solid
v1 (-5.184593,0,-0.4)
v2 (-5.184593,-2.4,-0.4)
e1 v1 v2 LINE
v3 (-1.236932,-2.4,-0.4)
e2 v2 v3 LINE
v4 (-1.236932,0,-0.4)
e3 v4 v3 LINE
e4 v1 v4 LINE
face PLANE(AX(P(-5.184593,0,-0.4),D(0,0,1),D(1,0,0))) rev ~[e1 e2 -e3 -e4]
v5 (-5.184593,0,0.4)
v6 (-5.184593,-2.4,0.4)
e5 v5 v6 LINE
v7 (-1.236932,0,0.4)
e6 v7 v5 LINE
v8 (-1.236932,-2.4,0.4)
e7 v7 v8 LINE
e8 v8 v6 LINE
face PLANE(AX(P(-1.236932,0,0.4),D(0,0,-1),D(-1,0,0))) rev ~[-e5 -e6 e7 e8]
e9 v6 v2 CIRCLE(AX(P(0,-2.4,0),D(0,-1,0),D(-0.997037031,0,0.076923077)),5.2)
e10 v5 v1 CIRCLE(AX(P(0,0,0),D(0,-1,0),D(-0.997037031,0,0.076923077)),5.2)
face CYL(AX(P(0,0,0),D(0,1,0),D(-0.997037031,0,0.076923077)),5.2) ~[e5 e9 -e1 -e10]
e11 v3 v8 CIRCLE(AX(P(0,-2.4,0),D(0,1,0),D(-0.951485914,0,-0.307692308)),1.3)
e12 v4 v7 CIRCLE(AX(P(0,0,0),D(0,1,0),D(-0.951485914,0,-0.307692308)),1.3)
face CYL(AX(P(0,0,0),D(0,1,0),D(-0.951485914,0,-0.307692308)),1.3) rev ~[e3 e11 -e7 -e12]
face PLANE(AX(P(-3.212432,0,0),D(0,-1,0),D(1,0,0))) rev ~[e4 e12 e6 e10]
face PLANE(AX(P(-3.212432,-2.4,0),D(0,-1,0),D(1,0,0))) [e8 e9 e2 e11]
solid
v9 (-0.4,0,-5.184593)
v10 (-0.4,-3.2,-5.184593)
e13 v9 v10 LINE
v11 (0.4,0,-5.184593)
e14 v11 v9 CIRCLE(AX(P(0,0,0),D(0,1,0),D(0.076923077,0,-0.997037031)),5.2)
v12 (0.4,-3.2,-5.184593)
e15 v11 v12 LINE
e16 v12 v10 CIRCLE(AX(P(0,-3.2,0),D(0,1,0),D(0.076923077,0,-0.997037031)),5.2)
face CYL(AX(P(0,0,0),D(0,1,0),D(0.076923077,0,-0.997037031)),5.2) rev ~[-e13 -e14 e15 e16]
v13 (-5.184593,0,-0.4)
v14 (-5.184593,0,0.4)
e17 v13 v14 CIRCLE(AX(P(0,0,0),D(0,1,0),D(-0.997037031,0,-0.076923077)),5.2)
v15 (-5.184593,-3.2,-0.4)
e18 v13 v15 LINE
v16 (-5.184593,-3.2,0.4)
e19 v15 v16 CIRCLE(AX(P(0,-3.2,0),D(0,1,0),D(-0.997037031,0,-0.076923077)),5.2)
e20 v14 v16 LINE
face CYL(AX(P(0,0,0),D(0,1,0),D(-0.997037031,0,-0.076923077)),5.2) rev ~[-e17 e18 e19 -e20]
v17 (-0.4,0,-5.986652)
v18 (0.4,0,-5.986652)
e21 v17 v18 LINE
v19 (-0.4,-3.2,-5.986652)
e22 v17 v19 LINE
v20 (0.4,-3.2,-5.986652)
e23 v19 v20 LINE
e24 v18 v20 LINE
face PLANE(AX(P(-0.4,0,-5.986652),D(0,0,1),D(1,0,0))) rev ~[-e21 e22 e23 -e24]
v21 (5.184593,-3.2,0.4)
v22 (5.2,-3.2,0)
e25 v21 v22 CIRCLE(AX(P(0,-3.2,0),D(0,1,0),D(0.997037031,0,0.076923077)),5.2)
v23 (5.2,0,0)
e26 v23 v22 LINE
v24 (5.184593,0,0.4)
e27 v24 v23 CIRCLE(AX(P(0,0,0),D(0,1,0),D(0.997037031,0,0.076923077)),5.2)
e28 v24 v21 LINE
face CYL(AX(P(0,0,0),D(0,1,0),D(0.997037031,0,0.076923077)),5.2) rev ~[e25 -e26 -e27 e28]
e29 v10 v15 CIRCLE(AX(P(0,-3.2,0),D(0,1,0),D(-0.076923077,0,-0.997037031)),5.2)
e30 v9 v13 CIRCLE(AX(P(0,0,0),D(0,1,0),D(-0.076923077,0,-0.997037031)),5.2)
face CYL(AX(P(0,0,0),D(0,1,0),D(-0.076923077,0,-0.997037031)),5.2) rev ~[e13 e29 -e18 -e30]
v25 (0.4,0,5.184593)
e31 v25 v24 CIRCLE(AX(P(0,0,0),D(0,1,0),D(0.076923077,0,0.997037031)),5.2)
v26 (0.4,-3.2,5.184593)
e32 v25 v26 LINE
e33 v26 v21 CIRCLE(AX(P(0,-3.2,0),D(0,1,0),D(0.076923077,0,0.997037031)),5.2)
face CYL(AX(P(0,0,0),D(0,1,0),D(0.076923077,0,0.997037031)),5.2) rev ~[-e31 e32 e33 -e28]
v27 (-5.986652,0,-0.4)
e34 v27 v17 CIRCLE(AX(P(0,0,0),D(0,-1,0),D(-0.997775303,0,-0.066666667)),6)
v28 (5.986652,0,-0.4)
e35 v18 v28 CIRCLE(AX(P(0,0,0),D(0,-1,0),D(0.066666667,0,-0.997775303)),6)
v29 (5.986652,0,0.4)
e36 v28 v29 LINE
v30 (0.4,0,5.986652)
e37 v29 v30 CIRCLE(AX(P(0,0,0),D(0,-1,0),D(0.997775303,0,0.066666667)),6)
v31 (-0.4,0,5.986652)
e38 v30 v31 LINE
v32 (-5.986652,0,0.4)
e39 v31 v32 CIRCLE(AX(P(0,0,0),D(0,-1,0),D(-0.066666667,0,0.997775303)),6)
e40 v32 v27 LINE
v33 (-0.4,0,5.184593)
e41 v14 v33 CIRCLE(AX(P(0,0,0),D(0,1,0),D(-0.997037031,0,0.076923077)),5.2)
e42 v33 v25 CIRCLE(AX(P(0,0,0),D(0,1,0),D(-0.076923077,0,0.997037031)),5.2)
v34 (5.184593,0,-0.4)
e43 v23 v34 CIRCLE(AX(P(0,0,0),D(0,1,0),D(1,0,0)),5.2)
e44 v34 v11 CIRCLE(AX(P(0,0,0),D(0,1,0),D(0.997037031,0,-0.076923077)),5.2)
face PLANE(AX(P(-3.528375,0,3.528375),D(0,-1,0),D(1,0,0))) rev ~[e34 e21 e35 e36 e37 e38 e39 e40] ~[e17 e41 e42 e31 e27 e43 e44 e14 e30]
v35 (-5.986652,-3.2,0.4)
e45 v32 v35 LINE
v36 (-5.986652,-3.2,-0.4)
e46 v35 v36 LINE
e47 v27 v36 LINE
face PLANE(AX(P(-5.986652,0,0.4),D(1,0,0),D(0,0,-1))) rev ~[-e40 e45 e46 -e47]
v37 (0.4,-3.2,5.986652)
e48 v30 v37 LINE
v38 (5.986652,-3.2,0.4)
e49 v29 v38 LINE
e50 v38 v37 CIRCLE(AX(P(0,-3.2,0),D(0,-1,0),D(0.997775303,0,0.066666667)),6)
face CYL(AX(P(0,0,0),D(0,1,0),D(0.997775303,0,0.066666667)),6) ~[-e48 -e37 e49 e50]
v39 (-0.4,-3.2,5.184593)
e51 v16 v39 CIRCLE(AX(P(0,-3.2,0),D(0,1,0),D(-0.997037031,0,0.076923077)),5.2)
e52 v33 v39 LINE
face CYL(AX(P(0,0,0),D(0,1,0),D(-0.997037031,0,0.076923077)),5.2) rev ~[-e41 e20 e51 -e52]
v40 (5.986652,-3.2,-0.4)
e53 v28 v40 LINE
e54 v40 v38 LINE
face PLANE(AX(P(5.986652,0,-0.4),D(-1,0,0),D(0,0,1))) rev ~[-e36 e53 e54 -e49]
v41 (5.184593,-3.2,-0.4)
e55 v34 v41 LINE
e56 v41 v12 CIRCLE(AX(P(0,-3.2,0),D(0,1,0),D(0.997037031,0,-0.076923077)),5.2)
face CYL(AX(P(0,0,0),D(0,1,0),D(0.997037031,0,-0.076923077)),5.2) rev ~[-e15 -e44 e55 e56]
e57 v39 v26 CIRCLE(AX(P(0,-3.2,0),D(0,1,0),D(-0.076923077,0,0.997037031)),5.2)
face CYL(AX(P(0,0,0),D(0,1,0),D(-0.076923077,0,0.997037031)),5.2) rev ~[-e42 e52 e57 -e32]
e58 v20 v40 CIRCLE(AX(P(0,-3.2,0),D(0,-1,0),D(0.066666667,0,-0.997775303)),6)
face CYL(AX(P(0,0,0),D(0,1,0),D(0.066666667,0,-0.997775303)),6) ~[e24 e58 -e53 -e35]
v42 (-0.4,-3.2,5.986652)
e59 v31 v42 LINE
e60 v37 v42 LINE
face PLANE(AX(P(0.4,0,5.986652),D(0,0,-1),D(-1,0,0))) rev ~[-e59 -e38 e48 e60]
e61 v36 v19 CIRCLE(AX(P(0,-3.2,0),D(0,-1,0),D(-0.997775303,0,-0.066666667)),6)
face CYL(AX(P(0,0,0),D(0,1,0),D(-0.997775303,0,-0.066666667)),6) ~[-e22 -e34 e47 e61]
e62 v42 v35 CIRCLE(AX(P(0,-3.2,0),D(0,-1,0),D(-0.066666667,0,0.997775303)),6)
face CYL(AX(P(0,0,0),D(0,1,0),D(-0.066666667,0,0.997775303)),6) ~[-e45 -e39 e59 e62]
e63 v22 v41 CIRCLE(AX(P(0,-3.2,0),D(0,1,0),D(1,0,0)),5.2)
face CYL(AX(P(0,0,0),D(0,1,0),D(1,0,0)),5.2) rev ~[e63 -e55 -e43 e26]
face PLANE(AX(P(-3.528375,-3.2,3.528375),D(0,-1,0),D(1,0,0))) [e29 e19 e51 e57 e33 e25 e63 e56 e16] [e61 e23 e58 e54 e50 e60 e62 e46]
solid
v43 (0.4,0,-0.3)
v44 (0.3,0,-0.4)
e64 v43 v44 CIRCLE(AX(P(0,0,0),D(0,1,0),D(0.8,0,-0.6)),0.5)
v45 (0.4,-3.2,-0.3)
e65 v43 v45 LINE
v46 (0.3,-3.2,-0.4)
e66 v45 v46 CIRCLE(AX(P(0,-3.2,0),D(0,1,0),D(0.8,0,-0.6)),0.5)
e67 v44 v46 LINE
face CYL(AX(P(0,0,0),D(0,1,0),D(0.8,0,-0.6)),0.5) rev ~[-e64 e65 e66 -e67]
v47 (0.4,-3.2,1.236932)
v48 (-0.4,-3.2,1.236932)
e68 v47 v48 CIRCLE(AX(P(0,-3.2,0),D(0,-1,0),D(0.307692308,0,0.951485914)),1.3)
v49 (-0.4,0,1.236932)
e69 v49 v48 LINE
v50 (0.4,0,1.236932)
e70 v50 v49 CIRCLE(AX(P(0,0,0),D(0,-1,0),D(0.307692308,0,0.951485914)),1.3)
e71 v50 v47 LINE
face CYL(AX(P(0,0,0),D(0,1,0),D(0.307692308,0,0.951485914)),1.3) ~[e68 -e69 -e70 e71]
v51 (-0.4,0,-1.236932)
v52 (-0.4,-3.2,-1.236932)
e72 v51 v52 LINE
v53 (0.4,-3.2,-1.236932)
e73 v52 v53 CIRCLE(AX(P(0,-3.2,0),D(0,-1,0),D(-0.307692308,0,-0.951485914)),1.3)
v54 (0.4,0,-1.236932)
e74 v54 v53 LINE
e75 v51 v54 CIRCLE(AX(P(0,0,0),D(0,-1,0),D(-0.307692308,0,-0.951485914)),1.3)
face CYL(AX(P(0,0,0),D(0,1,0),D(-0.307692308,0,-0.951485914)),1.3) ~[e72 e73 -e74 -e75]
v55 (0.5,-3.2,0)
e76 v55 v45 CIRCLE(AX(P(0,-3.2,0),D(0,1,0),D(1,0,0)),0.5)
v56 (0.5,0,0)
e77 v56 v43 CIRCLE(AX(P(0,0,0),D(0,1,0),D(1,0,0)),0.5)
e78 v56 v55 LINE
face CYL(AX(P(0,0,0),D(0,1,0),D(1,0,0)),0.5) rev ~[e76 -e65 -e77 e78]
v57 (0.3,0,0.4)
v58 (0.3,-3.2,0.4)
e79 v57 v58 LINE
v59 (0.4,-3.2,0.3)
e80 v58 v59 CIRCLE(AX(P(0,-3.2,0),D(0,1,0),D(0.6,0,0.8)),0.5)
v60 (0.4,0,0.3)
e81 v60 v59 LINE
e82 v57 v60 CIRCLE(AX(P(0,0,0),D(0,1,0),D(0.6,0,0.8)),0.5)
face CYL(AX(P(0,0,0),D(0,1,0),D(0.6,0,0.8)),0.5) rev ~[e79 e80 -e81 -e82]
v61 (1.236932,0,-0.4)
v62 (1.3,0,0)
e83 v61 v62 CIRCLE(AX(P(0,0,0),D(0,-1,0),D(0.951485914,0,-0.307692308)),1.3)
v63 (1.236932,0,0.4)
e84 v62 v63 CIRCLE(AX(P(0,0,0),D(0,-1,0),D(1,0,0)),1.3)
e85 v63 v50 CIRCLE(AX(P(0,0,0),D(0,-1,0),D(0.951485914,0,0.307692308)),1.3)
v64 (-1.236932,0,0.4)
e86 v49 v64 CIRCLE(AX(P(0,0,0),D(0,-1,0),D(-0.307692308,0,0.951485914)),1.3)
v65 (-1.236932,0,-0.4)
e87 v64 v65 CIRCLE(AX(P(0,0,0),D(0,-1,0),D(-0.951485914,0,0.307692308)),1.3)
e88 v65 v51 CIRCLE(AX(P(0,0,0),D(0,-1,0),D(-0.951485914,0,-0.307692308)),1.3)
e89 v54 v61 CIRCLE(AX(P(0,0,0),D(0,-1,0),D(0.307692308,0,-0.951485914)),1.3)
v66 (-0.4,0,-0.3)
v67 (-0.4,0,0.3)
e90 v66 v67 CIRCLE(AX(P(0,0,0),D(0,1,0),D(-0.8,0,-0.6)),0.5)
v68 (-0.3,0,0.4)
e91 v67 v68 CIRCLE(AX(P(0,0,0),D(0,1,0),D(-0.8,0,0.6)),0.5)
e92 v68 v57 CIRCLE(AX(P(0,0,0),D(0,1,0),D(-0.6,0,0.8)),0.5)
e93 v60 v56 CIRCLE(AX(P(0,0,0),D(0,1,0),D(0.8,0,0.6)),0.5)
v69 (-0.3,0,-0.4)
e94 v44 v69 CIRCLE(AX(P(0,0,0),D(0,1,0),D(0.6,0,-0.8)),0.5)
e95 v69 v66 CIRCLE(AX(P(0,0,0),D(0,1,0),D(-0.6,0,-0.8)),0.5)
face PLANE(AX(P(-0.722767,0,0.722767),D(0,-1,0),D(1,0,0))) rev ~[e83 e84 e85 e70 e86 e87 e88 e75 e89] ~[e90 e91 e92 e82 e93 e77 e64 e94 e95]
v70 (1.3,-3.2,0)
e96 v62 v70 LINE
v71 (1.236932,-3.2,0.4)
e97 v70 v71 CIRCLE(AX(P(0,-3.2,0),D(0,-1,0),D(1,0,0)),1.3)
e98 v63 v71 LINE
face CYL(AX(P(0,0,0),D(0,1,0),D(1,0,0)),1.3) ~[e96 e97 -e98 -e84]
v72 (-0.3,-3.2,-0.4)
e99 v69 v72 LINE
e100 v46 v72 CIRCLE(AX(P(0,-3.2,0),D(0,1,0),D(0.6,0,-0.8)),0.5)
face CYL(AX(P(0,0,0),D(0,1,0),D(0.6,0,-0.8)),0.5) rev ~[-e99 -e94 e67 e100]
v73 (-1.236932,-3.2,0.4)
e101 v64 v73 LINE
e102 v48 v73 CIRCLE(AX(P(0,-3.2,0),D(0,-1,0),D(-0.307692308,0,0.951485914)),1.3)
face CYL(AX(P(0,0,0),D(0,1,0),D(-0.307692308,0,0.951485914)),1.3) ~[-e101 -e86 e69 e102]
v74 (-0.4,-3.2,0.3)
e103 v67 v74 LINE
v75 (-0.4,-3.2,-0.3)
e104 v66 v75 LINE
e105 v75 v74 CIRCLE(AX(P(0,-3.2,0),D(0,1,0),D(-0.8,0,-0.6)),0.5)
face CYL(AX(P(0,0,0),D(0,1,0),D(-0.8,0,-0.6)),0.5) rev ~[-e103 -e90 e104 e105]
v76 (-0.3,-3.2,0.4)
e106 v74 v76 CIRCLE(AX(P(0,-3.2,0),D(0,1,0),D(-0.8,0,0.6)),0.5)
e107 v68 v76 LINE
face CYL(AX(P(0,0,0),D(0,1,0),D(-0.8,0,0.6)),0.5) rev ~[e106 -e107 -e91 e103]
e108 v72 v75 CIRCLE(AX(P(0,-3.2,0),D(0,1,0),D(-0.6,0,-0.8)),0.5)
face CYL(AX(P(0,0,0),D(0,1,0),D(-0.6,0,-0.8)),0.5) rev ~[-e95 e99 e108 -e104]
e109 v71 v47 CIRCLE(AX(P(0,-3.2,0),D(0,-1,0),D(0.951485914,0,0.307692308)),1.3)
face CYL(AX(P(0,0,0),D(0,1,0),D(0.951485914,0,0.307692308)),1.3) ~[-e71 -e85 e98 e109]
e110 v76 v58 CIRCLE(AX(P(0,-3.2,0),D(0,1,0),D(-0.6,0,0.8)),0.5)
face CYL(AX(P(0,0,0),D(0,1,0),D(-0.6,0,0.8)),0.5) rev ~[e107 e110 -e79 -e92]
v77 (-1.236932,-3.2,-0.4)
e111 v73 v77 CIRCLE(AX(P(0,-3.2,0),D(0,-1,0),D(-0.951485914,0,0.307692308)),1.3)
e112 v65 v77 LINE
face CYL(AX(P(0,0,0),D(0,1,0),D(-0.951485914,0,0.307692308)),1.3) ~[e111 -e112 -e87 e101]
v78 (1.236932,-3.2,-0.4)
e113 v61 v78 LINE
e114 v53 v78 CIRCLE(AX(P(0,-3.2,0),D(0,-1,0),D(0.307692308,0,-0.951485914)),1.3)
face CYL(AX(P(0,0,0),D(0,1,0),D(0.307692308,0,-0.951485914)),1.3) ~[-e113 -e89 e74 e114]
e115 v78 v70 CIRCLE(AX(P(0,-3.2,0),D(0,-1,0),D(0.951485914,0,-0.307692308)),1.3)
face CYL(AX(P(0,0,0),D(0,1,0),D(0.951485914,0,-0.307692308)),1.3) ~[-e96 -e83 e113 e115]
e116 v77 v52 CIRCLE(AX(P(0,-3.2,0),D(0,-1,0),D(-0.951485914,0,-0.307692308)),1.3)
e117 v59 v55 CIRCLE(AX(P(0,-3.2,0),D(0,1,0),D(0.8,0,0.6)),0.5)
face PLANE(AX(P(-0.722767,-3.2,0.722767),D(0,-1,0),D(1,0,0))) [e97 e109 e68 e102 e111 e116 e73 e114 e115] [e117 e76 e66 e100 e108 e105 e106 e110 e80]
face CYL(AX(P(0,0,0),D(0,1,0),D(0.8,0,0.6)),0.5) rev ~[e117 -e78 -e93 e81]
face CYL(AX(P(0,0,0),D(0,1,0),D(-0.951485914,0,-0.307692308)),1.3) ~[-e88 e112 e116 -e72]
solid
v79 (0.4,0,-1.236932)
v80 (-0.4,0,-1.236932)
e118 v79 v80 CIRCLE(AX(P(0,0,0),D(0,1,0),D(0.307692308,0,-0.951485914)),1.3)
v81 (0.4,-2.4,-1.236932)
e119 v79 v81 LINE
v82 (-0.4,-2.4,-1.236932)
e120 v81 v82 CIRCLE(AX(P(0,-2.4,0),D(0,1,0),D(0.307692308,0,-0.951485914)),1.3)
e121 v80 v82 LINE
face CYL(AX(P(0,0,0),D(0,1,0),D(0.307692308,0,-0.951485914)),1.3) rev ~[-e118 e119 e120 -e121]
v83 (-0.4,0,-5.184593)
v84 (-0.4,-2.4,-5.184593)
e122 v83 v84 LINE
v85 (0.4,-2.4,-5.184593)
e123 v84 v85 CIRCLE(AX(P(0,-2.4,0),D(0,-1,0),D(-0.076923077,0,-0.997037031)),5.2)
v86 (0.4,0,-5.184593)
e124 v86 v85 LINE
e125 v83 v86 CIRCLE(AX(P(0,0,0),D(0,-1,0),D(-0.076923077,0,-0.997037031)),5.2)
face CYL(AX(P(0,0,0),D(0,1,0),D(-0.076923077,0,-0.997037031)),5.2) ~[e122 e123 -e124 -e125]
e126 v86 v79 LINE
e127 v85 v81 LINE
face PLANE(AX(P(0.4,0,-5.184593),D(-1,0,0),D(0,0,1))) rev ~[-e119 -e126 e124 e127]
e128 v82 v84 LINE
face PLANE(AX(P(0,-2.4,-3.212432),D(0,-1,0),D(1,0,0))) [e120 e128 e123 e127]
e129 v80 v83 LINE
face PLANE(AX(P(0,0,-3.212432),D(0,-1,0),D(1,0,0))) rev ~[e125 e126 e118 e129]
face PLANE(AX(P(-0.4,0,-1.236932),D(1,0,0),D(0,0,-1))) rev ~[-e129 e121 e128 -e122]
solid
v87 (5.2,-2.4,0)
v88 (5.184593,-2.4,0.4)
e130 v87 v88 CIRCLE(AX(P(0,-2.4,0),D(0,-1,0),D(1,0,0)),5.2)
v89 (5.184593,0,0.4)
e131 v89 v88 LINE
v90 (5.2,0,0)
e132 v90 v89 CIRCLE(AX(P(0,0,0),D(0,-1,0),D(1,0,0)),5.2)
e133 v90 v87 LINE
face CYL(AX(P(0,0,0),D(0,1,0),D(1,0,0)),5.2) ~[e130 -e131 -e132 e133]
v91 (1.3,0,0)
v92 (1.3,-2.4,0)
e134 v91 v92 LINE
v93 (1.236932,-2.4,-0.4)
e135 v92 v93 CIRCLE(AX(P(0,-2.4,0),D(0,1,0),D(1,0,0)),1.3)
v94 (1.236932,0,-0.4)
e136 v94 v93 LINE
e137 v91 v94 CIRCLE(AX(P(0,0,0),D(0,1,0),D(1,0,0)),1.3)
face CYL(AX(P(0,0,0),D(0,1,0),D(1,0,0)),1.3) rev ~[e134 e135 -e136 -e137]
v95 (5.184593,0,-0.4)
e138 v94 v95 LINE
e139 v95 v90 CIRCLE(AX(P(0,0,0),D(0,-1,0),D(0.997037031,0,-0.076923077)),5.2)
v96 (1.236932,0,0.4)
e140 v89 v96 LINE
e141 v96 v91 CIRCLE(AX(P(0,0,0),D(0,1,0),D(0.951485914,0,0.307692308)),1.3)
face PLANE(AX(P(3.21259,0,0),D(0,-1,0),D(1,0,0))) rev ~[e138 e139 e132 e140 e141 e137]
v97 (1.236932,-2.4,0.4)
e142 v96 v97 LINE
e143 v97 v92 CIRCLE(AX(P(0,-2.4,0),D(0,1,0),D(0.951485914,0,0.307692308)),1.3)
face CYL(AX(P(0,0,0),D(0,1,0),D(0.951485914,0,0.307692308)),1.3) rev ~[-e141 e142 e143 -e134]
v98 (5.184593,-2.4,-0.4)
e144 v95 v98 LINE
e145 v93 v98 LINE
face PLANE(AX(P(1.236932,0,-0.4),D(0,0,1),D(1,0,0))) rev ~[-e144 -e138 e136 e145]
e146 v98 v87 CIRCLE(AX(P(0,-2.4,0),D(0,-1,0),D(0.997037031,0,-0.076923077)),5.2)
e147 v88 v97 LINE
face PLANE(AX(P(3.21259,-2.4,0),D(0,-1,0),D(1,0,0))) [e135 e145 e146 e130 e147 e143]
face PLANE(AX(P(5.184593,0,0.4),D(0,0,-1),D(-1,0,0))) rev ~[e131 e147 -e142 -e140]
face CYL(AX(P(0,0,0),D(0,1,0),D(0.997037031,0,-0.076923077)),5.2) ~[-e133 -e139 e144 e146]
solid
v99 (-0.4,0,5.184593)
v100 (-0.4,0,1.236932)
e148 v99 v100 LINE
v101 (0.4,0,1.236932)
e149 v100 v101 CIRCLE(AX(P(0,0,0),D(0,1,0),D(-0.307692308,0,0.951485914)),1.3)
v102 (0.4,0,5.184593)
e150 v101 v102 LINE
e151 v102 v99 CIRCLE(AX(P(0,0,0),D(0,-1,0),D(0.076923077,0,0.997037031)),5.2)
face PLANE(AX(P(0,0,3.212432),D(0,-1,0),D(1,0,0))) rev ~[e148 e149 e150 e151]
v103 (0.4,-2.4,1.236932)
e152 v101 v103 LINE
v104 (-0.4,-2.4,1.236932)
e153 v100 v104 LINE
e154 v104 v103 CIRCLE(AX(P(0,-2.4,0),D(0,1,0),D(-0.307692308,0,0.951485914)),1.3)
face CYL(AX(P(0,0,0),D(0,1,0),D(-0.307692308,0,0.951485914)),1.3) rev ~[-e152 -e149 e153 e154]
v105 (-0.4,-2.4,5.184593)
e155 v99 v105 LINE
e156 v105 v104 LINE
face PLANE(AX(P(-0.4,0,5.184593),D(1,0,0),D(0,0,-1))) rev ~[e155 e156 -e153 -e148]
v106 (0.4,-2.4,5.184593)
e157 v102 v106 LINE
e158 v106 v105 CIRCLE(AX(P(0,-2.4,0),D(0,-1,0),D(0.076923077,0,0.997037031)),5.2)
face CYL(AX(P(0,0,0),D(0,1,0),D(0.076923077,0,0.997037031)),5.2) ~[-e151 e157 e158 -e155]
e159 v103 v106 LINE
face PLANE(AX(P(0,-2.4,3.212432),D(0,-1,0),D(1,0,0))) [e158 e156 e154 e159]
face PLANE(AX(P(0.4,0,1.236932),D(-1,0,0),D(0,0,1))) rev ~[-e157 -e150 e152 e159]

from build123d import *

# Parameters (mm, degrees)
F1_DEPTH = 3.2
F2_DEPTH = 2.4


with BuildPart() as f1:
    # F0 (on Front) → F1 (new body)
    with BuildSketch(Plane.XZ):
        with BuildLine():
            Line((-0.4, 5.1845925587), (-0.4, 5.9866518188))
            ThreePointArc((-0.4, 5.9866518188), (-4.2426406871, 4.2426406871), (-5.9866518188, 0.4))
            Line((-5.9866518188, 0.4), (-5.1845925587, 0.4))
            ThreePointArc((-5.1845925587, 0.4), (-3.6769552622, 3.6769552622), (-0.4, 5.1845925587))
        make_face()
        with BuildLine():
            Line((0.4, 5.1845925587), (0.4, 5.9866518188))
            Line((0.4, 5.9866518188), (-0.4, 5.9866518188))
            Line((-0.4, 5.9866518188), (-0.4, 5.1845925587))
            ThreePointArc((-0.4, 5.1845925587), (0, 5.2), (0.4, 5.1845925587))
        make_face()
        with BuildLine():
            Line((5.1845925587, 0.4), (5.9866518188, 0.4))
            ThreePointArc((5.9866518188, 0.4), (4.2426406871, 4.2426406871), (0.4, 5.9866518188))
            Line((0.4, 5.9866518188), (0.4, 5.1845925587))
            ThreePointArc((0.4, 5.1845925587), (3.6769552622, 3.6769552622), (5.1845925587, 0.4))
        make_face()
        with BuildLine():
            Line((5.9866518188, -0.4), (5.9866518188, 0.4))
            Line((5.9866518188, 0.4), (5.1845925587, 0.4))
            ThreePointArc((5.1845925587, 0.4), (5.196146712, 0.2001483133), (5.2, 0))
            ThreePointArc((5.2, 0), (5.196146712, -0.2001483133), (5.1845925587, -0.4))
            Line((5.1845925587, -0.4), (5.9866518188, -0.4))
        make_face()
        with BuildLine():
            ThreePointArc((0.4, -5.9866518188), (4.2426406871, -4.2426406871), (5.9866518188, -0.4))
            Line((5.9866518188, -0.4), (5.1845925587, -0.4))
            ThreePointArc((5.1845925587, -0.4), (3.6769552622, -3.6769552622), (0.4, -5.1845925587))
            Line((0.4, -5.1845925587), (0.4, -5.9866518188))
        make_face()
        with BuildLine():
            Line((-0.4, -5.9866518188), (0.4, -5.9866518188))
            Line((0.4, -5.9866518188), (0.4, -5.1845925587))
            ThreePointArc((0.4, -5.1845925587), (0, -5.2), (-0.4, -5.1845925587))
            Line((-0.4, -5.1845925587), (-0.4, -5.9866518188))
        make_face()
        with BuildLine():
            ThreePointArc((-5.9866518188, -0.4), (-4.2426406871, -4.2426406871), (-0.4, -5.9866518188))
            Line((-0.4, -5.9866518188), (-0.4, -5.1845925587))
            ThreePointArc((-0.4, -5.1845925587), (-3.6769552622, -3.6769552622), (-5.1845925587, -0.4))
            Line((-5.1845925587, -0.4), (-5.9866518188, -0.4))
        make_face()
        with BuildLine():
            Line((-5.1845925587, 0.4), (-5.9866518188, 0.4))
            Line((-5.9866518188, 0.4), (-5.9866518188, -0.4))
            Line((-5.9866518188, -0.4), (-5.1845925587, -0.4))
            ThreePointArc((-5.1845925587, -0.4), (-5.2, 0), (-5.1845925587, 0.4))
        make_face()
    extrude(amount=F1_DEPTH)


with BuildPart() as f1b:
    # F0 (on Front) → F1, piece 2 (new body)
    with BuildSketch(Plane.XZ):
        with BuildLine():
            Line((-0.4, 0.4), (-0.4, 1.2369316877))
            ThreePointArc((-0.4, 1.2369316877), (-0.9192388155, 0.9192388155), (-1.2369316877, 0.4))
            Line((-1.2369316877, 0.4), (-0.4, 0.4))
        make_face()
        with BuildLine():
            Line((0.4, 0.4), (0.4, 1.2369316877))
            ThreePointArc((0.4, 1.2369316877), (0, 1.3), (-0.4, 1.2369316877))
            Line((-0.4, 1.2369316877), (-0.4, 0.4))
            Line((-0.4, 0.4), (-0.3, 0.4))
            ThreePointArc((-0.3, 0.4), (0, 0.5), (0.3, 0.4))
            Line((0.3, 0.4), (0.4, 0.4))
        make_face()
        with BuildLine():
            Line((0.4, 0.4), (1.2369316877, 0.4))
            ThreePointArc((1.2369316877, 0.4), (0.9192388155, 0.9192388155), (0.4, 1.2369316877))
            Line((0.4, 1.2369316877), (0.4, 0.4))
        make_face()
        with BuildLine():
            ThreePointArc((1.3, 0), (1.2841361287, 0.202470746), (1.2369316877, 0.4))
            Line((1.2369316877, 0.4), (0.4, 0.4))
            Line((0.4, 0.4), (0.4, 0.3))
            ThreePointArc((0.4, 0.3), (0.474341649, 0.158113883), (0.5, 0))
            ThreePointArc((0.5, 0), (0.474341649, -0.158113883), (0.4, -0.3))
            Line((0.4, -0.3), (0.4, -0.4))
            Line((0.4, -0.4), (1.2369316877, -0.4))
            ThreePointArc((1.2369316877, -0.4), (1.2841361287, -0.202470746), (1.3, 0))
        make_face()
        with BuildLine():
            ThreePointArc((0.4, -1.2369316877), (0.9192388155, -0.9192388155), (1.2369316877, -0.4))
            Line((1.2369316877, -0.4), (0.4, -0.4))
            Line((0.4, -0.4), (0.4, -1.2369316877))
        make_face()
        with BuildLine():
            ThreePointArc((-0.4, -1.2369316877), (0, -1.3), (0.4, -1.2369316877))
            Line((0.4, -1.2369316877), (0.4, -0.4))
            Line((0.4, -0.4), (0.3, -0.4))
            ThreePointArc((0.3, -0.4), (0, -0.5), (-0.3, -0.4))
            Line((-0.3, -0.4), (-0.4, -0.4))
            Line((-0.4, -0.4), (-0.4, -1.2369316877))
        make_face()
        with BuildLine():
            ThreePointArc((-1.2369316877, -0.4), (-0.9192388155, -0.9192388155), (-0.4, -1.2369316877))
            Line((-0.4, -1.2369316877), (-0.4, -0.4))
            Line((-0.4, -0.4), (-1.2369316877, -0.4))
        make_face()
        with BuildLine():
            Line((-0.4, 0.4), (-1.2369316877, 0.4))
            ThreePointArc((-1.2369316877, 0.4), (-1.3, 0), (-1.2369316877, -0.4))
            Line((-1.2369316877, -0.4), (-0.4, -0.4))
            Line((-0.4, -0.4), (-0.4, -0.3))
            ThreePointArc((-0.4, -0.3), (-0.5, 0), (-0.4, 0.3))
            Line((-0.4, 0.3), (-0.4, 0.4))
        make_face()
        with BuildLine():
            Line((-0.3, 0.4), (-0.4, 0.4))
            Line((-0.4, 0.4), (-0.4, 0.3))
            ThreePointArc((-0.4, 0.3), (-0.3535533906, 0.3535533906), (-0.3, 0.4))
        make_face()
        with BuildLine():
            Line((0.4, 0.3), (0.4, 0.4))
            Line((0.4, 0.4), (0.3, 0.4))
            ThreePointArc((0.3, 0.4), (0.3535533906, 0.3535533906), (0.4, 0.3))
        make_face()
        with BuildLine():
            Line((0.3, -0.4), (0.4, -0.4))
            Line((0.4, -0.4), (0.4, -0.3))
            ThreePointArc((0.4, -0.3), (0.3535533906, -0.3535533906), (0.3, -0.4))
        make_face()
        with BuildLine():
            Line((-0.4, -0.3), (-0.4, -0.4))
            Line((-0.4, -0.4), (-0.3, -0.4))
            ThreePointArc((-0.3, -0.4), (-0.3535533906, -0.3535533906), (-0.4, -0.3))
        make_face()
    extrude(amount=F1_DEPTH)


with BuildPart() as f2:
    # F0 (on Front) → F2 (new body)
    with BuildSketch(Plane.XZ):
        with BuildLine():
            Line((-1.2369316877, 0.4), (-5.1845925587, 0.4))
            ThreePointArc((-5.1845925587, 0.4), (-5.2, 0), (-5.1845925587, -0.4))
            Line((-5.1845925587, -0.4), (-1.2369316877, -0.4))
            ThreePointArc((-1.2369316877, -0.4), (-1.3, 0), (-1.2369316877, 0.4))
        make_face()
    extrude(amount=F2_DEPTH)


with BuildPart() as f2b:
    # F0 (on Front) → F2, piece 2 (new body)
    with BuildSketch(Plane.XZ):
        with BuildLine():
            Line((0.4, 1.2369316877), (0.4, 5.1845925587))
            ThreePointArc((0.4, 5.1845925587), (0, 5.2), (-0.4, 5.1845925587))
            Line((-0.4, 5.1845925587), (-0.4, 1.2369316877))
            ThreePointArc((-0.4, 1.2369316877), (0, 1.3), (0.4, 1.2369316877))
        make_face()
    extrude(amount=F2_DEPTH)


with BuildPart() as f2c:
    # F0 (on Front) → F2, piece 3 (new body)
    with BuildSketch(Plane.XZ):
        with BuildLine():
            ThreePointArc((5.2, 0), (5.196146712, 0.2001483133), (5.1845925587, 0.4))
            Line((5.1845925587, 0.4), (1.2369316877, 0.4))
            ThreePointArc((1.2369316877, 0.4), (1.2841361287, 0.202470746), (1.3, 0))
            ThreePointArc((1.3, 0), (1.2841361287, -0.202470746), (1.2369316877, -0.4))
            Line((1.2369316877, -0.4), (5.1845925587, -0.4))
            ThreePointArc((5.1845925587, -0.4), (5.196146712, -0.2001483133), (5.2, 0))
        make_face()
    extrude(amount=F2_DEPTH)


with BuildPart() as f2d:
    # F0 (on Front) → F2, piece 4 (new body)
    with BuildSketch(Plane.XZ):
        with BuildLine():
            ThreePointArc((-0.4, -5.1845925587), (0, -5.2), (0.4, -5.1845925587))
            Line((0.4, -5.1845925587), (0.4, -1.2369316877))
            ThreePointArc((0.4, -1.2369316877), (0, -1.3), (-0.4, -1.2369316877))
            Line((-0.4, -1.2369316877), (-0.4, -5.1845925587))
        make_face()
    extrude(amount=F2_DEPTH)


solid = Compound([f1.part, f1b.part, f2.part, f2b.part, f2c.part, f2d.part])
